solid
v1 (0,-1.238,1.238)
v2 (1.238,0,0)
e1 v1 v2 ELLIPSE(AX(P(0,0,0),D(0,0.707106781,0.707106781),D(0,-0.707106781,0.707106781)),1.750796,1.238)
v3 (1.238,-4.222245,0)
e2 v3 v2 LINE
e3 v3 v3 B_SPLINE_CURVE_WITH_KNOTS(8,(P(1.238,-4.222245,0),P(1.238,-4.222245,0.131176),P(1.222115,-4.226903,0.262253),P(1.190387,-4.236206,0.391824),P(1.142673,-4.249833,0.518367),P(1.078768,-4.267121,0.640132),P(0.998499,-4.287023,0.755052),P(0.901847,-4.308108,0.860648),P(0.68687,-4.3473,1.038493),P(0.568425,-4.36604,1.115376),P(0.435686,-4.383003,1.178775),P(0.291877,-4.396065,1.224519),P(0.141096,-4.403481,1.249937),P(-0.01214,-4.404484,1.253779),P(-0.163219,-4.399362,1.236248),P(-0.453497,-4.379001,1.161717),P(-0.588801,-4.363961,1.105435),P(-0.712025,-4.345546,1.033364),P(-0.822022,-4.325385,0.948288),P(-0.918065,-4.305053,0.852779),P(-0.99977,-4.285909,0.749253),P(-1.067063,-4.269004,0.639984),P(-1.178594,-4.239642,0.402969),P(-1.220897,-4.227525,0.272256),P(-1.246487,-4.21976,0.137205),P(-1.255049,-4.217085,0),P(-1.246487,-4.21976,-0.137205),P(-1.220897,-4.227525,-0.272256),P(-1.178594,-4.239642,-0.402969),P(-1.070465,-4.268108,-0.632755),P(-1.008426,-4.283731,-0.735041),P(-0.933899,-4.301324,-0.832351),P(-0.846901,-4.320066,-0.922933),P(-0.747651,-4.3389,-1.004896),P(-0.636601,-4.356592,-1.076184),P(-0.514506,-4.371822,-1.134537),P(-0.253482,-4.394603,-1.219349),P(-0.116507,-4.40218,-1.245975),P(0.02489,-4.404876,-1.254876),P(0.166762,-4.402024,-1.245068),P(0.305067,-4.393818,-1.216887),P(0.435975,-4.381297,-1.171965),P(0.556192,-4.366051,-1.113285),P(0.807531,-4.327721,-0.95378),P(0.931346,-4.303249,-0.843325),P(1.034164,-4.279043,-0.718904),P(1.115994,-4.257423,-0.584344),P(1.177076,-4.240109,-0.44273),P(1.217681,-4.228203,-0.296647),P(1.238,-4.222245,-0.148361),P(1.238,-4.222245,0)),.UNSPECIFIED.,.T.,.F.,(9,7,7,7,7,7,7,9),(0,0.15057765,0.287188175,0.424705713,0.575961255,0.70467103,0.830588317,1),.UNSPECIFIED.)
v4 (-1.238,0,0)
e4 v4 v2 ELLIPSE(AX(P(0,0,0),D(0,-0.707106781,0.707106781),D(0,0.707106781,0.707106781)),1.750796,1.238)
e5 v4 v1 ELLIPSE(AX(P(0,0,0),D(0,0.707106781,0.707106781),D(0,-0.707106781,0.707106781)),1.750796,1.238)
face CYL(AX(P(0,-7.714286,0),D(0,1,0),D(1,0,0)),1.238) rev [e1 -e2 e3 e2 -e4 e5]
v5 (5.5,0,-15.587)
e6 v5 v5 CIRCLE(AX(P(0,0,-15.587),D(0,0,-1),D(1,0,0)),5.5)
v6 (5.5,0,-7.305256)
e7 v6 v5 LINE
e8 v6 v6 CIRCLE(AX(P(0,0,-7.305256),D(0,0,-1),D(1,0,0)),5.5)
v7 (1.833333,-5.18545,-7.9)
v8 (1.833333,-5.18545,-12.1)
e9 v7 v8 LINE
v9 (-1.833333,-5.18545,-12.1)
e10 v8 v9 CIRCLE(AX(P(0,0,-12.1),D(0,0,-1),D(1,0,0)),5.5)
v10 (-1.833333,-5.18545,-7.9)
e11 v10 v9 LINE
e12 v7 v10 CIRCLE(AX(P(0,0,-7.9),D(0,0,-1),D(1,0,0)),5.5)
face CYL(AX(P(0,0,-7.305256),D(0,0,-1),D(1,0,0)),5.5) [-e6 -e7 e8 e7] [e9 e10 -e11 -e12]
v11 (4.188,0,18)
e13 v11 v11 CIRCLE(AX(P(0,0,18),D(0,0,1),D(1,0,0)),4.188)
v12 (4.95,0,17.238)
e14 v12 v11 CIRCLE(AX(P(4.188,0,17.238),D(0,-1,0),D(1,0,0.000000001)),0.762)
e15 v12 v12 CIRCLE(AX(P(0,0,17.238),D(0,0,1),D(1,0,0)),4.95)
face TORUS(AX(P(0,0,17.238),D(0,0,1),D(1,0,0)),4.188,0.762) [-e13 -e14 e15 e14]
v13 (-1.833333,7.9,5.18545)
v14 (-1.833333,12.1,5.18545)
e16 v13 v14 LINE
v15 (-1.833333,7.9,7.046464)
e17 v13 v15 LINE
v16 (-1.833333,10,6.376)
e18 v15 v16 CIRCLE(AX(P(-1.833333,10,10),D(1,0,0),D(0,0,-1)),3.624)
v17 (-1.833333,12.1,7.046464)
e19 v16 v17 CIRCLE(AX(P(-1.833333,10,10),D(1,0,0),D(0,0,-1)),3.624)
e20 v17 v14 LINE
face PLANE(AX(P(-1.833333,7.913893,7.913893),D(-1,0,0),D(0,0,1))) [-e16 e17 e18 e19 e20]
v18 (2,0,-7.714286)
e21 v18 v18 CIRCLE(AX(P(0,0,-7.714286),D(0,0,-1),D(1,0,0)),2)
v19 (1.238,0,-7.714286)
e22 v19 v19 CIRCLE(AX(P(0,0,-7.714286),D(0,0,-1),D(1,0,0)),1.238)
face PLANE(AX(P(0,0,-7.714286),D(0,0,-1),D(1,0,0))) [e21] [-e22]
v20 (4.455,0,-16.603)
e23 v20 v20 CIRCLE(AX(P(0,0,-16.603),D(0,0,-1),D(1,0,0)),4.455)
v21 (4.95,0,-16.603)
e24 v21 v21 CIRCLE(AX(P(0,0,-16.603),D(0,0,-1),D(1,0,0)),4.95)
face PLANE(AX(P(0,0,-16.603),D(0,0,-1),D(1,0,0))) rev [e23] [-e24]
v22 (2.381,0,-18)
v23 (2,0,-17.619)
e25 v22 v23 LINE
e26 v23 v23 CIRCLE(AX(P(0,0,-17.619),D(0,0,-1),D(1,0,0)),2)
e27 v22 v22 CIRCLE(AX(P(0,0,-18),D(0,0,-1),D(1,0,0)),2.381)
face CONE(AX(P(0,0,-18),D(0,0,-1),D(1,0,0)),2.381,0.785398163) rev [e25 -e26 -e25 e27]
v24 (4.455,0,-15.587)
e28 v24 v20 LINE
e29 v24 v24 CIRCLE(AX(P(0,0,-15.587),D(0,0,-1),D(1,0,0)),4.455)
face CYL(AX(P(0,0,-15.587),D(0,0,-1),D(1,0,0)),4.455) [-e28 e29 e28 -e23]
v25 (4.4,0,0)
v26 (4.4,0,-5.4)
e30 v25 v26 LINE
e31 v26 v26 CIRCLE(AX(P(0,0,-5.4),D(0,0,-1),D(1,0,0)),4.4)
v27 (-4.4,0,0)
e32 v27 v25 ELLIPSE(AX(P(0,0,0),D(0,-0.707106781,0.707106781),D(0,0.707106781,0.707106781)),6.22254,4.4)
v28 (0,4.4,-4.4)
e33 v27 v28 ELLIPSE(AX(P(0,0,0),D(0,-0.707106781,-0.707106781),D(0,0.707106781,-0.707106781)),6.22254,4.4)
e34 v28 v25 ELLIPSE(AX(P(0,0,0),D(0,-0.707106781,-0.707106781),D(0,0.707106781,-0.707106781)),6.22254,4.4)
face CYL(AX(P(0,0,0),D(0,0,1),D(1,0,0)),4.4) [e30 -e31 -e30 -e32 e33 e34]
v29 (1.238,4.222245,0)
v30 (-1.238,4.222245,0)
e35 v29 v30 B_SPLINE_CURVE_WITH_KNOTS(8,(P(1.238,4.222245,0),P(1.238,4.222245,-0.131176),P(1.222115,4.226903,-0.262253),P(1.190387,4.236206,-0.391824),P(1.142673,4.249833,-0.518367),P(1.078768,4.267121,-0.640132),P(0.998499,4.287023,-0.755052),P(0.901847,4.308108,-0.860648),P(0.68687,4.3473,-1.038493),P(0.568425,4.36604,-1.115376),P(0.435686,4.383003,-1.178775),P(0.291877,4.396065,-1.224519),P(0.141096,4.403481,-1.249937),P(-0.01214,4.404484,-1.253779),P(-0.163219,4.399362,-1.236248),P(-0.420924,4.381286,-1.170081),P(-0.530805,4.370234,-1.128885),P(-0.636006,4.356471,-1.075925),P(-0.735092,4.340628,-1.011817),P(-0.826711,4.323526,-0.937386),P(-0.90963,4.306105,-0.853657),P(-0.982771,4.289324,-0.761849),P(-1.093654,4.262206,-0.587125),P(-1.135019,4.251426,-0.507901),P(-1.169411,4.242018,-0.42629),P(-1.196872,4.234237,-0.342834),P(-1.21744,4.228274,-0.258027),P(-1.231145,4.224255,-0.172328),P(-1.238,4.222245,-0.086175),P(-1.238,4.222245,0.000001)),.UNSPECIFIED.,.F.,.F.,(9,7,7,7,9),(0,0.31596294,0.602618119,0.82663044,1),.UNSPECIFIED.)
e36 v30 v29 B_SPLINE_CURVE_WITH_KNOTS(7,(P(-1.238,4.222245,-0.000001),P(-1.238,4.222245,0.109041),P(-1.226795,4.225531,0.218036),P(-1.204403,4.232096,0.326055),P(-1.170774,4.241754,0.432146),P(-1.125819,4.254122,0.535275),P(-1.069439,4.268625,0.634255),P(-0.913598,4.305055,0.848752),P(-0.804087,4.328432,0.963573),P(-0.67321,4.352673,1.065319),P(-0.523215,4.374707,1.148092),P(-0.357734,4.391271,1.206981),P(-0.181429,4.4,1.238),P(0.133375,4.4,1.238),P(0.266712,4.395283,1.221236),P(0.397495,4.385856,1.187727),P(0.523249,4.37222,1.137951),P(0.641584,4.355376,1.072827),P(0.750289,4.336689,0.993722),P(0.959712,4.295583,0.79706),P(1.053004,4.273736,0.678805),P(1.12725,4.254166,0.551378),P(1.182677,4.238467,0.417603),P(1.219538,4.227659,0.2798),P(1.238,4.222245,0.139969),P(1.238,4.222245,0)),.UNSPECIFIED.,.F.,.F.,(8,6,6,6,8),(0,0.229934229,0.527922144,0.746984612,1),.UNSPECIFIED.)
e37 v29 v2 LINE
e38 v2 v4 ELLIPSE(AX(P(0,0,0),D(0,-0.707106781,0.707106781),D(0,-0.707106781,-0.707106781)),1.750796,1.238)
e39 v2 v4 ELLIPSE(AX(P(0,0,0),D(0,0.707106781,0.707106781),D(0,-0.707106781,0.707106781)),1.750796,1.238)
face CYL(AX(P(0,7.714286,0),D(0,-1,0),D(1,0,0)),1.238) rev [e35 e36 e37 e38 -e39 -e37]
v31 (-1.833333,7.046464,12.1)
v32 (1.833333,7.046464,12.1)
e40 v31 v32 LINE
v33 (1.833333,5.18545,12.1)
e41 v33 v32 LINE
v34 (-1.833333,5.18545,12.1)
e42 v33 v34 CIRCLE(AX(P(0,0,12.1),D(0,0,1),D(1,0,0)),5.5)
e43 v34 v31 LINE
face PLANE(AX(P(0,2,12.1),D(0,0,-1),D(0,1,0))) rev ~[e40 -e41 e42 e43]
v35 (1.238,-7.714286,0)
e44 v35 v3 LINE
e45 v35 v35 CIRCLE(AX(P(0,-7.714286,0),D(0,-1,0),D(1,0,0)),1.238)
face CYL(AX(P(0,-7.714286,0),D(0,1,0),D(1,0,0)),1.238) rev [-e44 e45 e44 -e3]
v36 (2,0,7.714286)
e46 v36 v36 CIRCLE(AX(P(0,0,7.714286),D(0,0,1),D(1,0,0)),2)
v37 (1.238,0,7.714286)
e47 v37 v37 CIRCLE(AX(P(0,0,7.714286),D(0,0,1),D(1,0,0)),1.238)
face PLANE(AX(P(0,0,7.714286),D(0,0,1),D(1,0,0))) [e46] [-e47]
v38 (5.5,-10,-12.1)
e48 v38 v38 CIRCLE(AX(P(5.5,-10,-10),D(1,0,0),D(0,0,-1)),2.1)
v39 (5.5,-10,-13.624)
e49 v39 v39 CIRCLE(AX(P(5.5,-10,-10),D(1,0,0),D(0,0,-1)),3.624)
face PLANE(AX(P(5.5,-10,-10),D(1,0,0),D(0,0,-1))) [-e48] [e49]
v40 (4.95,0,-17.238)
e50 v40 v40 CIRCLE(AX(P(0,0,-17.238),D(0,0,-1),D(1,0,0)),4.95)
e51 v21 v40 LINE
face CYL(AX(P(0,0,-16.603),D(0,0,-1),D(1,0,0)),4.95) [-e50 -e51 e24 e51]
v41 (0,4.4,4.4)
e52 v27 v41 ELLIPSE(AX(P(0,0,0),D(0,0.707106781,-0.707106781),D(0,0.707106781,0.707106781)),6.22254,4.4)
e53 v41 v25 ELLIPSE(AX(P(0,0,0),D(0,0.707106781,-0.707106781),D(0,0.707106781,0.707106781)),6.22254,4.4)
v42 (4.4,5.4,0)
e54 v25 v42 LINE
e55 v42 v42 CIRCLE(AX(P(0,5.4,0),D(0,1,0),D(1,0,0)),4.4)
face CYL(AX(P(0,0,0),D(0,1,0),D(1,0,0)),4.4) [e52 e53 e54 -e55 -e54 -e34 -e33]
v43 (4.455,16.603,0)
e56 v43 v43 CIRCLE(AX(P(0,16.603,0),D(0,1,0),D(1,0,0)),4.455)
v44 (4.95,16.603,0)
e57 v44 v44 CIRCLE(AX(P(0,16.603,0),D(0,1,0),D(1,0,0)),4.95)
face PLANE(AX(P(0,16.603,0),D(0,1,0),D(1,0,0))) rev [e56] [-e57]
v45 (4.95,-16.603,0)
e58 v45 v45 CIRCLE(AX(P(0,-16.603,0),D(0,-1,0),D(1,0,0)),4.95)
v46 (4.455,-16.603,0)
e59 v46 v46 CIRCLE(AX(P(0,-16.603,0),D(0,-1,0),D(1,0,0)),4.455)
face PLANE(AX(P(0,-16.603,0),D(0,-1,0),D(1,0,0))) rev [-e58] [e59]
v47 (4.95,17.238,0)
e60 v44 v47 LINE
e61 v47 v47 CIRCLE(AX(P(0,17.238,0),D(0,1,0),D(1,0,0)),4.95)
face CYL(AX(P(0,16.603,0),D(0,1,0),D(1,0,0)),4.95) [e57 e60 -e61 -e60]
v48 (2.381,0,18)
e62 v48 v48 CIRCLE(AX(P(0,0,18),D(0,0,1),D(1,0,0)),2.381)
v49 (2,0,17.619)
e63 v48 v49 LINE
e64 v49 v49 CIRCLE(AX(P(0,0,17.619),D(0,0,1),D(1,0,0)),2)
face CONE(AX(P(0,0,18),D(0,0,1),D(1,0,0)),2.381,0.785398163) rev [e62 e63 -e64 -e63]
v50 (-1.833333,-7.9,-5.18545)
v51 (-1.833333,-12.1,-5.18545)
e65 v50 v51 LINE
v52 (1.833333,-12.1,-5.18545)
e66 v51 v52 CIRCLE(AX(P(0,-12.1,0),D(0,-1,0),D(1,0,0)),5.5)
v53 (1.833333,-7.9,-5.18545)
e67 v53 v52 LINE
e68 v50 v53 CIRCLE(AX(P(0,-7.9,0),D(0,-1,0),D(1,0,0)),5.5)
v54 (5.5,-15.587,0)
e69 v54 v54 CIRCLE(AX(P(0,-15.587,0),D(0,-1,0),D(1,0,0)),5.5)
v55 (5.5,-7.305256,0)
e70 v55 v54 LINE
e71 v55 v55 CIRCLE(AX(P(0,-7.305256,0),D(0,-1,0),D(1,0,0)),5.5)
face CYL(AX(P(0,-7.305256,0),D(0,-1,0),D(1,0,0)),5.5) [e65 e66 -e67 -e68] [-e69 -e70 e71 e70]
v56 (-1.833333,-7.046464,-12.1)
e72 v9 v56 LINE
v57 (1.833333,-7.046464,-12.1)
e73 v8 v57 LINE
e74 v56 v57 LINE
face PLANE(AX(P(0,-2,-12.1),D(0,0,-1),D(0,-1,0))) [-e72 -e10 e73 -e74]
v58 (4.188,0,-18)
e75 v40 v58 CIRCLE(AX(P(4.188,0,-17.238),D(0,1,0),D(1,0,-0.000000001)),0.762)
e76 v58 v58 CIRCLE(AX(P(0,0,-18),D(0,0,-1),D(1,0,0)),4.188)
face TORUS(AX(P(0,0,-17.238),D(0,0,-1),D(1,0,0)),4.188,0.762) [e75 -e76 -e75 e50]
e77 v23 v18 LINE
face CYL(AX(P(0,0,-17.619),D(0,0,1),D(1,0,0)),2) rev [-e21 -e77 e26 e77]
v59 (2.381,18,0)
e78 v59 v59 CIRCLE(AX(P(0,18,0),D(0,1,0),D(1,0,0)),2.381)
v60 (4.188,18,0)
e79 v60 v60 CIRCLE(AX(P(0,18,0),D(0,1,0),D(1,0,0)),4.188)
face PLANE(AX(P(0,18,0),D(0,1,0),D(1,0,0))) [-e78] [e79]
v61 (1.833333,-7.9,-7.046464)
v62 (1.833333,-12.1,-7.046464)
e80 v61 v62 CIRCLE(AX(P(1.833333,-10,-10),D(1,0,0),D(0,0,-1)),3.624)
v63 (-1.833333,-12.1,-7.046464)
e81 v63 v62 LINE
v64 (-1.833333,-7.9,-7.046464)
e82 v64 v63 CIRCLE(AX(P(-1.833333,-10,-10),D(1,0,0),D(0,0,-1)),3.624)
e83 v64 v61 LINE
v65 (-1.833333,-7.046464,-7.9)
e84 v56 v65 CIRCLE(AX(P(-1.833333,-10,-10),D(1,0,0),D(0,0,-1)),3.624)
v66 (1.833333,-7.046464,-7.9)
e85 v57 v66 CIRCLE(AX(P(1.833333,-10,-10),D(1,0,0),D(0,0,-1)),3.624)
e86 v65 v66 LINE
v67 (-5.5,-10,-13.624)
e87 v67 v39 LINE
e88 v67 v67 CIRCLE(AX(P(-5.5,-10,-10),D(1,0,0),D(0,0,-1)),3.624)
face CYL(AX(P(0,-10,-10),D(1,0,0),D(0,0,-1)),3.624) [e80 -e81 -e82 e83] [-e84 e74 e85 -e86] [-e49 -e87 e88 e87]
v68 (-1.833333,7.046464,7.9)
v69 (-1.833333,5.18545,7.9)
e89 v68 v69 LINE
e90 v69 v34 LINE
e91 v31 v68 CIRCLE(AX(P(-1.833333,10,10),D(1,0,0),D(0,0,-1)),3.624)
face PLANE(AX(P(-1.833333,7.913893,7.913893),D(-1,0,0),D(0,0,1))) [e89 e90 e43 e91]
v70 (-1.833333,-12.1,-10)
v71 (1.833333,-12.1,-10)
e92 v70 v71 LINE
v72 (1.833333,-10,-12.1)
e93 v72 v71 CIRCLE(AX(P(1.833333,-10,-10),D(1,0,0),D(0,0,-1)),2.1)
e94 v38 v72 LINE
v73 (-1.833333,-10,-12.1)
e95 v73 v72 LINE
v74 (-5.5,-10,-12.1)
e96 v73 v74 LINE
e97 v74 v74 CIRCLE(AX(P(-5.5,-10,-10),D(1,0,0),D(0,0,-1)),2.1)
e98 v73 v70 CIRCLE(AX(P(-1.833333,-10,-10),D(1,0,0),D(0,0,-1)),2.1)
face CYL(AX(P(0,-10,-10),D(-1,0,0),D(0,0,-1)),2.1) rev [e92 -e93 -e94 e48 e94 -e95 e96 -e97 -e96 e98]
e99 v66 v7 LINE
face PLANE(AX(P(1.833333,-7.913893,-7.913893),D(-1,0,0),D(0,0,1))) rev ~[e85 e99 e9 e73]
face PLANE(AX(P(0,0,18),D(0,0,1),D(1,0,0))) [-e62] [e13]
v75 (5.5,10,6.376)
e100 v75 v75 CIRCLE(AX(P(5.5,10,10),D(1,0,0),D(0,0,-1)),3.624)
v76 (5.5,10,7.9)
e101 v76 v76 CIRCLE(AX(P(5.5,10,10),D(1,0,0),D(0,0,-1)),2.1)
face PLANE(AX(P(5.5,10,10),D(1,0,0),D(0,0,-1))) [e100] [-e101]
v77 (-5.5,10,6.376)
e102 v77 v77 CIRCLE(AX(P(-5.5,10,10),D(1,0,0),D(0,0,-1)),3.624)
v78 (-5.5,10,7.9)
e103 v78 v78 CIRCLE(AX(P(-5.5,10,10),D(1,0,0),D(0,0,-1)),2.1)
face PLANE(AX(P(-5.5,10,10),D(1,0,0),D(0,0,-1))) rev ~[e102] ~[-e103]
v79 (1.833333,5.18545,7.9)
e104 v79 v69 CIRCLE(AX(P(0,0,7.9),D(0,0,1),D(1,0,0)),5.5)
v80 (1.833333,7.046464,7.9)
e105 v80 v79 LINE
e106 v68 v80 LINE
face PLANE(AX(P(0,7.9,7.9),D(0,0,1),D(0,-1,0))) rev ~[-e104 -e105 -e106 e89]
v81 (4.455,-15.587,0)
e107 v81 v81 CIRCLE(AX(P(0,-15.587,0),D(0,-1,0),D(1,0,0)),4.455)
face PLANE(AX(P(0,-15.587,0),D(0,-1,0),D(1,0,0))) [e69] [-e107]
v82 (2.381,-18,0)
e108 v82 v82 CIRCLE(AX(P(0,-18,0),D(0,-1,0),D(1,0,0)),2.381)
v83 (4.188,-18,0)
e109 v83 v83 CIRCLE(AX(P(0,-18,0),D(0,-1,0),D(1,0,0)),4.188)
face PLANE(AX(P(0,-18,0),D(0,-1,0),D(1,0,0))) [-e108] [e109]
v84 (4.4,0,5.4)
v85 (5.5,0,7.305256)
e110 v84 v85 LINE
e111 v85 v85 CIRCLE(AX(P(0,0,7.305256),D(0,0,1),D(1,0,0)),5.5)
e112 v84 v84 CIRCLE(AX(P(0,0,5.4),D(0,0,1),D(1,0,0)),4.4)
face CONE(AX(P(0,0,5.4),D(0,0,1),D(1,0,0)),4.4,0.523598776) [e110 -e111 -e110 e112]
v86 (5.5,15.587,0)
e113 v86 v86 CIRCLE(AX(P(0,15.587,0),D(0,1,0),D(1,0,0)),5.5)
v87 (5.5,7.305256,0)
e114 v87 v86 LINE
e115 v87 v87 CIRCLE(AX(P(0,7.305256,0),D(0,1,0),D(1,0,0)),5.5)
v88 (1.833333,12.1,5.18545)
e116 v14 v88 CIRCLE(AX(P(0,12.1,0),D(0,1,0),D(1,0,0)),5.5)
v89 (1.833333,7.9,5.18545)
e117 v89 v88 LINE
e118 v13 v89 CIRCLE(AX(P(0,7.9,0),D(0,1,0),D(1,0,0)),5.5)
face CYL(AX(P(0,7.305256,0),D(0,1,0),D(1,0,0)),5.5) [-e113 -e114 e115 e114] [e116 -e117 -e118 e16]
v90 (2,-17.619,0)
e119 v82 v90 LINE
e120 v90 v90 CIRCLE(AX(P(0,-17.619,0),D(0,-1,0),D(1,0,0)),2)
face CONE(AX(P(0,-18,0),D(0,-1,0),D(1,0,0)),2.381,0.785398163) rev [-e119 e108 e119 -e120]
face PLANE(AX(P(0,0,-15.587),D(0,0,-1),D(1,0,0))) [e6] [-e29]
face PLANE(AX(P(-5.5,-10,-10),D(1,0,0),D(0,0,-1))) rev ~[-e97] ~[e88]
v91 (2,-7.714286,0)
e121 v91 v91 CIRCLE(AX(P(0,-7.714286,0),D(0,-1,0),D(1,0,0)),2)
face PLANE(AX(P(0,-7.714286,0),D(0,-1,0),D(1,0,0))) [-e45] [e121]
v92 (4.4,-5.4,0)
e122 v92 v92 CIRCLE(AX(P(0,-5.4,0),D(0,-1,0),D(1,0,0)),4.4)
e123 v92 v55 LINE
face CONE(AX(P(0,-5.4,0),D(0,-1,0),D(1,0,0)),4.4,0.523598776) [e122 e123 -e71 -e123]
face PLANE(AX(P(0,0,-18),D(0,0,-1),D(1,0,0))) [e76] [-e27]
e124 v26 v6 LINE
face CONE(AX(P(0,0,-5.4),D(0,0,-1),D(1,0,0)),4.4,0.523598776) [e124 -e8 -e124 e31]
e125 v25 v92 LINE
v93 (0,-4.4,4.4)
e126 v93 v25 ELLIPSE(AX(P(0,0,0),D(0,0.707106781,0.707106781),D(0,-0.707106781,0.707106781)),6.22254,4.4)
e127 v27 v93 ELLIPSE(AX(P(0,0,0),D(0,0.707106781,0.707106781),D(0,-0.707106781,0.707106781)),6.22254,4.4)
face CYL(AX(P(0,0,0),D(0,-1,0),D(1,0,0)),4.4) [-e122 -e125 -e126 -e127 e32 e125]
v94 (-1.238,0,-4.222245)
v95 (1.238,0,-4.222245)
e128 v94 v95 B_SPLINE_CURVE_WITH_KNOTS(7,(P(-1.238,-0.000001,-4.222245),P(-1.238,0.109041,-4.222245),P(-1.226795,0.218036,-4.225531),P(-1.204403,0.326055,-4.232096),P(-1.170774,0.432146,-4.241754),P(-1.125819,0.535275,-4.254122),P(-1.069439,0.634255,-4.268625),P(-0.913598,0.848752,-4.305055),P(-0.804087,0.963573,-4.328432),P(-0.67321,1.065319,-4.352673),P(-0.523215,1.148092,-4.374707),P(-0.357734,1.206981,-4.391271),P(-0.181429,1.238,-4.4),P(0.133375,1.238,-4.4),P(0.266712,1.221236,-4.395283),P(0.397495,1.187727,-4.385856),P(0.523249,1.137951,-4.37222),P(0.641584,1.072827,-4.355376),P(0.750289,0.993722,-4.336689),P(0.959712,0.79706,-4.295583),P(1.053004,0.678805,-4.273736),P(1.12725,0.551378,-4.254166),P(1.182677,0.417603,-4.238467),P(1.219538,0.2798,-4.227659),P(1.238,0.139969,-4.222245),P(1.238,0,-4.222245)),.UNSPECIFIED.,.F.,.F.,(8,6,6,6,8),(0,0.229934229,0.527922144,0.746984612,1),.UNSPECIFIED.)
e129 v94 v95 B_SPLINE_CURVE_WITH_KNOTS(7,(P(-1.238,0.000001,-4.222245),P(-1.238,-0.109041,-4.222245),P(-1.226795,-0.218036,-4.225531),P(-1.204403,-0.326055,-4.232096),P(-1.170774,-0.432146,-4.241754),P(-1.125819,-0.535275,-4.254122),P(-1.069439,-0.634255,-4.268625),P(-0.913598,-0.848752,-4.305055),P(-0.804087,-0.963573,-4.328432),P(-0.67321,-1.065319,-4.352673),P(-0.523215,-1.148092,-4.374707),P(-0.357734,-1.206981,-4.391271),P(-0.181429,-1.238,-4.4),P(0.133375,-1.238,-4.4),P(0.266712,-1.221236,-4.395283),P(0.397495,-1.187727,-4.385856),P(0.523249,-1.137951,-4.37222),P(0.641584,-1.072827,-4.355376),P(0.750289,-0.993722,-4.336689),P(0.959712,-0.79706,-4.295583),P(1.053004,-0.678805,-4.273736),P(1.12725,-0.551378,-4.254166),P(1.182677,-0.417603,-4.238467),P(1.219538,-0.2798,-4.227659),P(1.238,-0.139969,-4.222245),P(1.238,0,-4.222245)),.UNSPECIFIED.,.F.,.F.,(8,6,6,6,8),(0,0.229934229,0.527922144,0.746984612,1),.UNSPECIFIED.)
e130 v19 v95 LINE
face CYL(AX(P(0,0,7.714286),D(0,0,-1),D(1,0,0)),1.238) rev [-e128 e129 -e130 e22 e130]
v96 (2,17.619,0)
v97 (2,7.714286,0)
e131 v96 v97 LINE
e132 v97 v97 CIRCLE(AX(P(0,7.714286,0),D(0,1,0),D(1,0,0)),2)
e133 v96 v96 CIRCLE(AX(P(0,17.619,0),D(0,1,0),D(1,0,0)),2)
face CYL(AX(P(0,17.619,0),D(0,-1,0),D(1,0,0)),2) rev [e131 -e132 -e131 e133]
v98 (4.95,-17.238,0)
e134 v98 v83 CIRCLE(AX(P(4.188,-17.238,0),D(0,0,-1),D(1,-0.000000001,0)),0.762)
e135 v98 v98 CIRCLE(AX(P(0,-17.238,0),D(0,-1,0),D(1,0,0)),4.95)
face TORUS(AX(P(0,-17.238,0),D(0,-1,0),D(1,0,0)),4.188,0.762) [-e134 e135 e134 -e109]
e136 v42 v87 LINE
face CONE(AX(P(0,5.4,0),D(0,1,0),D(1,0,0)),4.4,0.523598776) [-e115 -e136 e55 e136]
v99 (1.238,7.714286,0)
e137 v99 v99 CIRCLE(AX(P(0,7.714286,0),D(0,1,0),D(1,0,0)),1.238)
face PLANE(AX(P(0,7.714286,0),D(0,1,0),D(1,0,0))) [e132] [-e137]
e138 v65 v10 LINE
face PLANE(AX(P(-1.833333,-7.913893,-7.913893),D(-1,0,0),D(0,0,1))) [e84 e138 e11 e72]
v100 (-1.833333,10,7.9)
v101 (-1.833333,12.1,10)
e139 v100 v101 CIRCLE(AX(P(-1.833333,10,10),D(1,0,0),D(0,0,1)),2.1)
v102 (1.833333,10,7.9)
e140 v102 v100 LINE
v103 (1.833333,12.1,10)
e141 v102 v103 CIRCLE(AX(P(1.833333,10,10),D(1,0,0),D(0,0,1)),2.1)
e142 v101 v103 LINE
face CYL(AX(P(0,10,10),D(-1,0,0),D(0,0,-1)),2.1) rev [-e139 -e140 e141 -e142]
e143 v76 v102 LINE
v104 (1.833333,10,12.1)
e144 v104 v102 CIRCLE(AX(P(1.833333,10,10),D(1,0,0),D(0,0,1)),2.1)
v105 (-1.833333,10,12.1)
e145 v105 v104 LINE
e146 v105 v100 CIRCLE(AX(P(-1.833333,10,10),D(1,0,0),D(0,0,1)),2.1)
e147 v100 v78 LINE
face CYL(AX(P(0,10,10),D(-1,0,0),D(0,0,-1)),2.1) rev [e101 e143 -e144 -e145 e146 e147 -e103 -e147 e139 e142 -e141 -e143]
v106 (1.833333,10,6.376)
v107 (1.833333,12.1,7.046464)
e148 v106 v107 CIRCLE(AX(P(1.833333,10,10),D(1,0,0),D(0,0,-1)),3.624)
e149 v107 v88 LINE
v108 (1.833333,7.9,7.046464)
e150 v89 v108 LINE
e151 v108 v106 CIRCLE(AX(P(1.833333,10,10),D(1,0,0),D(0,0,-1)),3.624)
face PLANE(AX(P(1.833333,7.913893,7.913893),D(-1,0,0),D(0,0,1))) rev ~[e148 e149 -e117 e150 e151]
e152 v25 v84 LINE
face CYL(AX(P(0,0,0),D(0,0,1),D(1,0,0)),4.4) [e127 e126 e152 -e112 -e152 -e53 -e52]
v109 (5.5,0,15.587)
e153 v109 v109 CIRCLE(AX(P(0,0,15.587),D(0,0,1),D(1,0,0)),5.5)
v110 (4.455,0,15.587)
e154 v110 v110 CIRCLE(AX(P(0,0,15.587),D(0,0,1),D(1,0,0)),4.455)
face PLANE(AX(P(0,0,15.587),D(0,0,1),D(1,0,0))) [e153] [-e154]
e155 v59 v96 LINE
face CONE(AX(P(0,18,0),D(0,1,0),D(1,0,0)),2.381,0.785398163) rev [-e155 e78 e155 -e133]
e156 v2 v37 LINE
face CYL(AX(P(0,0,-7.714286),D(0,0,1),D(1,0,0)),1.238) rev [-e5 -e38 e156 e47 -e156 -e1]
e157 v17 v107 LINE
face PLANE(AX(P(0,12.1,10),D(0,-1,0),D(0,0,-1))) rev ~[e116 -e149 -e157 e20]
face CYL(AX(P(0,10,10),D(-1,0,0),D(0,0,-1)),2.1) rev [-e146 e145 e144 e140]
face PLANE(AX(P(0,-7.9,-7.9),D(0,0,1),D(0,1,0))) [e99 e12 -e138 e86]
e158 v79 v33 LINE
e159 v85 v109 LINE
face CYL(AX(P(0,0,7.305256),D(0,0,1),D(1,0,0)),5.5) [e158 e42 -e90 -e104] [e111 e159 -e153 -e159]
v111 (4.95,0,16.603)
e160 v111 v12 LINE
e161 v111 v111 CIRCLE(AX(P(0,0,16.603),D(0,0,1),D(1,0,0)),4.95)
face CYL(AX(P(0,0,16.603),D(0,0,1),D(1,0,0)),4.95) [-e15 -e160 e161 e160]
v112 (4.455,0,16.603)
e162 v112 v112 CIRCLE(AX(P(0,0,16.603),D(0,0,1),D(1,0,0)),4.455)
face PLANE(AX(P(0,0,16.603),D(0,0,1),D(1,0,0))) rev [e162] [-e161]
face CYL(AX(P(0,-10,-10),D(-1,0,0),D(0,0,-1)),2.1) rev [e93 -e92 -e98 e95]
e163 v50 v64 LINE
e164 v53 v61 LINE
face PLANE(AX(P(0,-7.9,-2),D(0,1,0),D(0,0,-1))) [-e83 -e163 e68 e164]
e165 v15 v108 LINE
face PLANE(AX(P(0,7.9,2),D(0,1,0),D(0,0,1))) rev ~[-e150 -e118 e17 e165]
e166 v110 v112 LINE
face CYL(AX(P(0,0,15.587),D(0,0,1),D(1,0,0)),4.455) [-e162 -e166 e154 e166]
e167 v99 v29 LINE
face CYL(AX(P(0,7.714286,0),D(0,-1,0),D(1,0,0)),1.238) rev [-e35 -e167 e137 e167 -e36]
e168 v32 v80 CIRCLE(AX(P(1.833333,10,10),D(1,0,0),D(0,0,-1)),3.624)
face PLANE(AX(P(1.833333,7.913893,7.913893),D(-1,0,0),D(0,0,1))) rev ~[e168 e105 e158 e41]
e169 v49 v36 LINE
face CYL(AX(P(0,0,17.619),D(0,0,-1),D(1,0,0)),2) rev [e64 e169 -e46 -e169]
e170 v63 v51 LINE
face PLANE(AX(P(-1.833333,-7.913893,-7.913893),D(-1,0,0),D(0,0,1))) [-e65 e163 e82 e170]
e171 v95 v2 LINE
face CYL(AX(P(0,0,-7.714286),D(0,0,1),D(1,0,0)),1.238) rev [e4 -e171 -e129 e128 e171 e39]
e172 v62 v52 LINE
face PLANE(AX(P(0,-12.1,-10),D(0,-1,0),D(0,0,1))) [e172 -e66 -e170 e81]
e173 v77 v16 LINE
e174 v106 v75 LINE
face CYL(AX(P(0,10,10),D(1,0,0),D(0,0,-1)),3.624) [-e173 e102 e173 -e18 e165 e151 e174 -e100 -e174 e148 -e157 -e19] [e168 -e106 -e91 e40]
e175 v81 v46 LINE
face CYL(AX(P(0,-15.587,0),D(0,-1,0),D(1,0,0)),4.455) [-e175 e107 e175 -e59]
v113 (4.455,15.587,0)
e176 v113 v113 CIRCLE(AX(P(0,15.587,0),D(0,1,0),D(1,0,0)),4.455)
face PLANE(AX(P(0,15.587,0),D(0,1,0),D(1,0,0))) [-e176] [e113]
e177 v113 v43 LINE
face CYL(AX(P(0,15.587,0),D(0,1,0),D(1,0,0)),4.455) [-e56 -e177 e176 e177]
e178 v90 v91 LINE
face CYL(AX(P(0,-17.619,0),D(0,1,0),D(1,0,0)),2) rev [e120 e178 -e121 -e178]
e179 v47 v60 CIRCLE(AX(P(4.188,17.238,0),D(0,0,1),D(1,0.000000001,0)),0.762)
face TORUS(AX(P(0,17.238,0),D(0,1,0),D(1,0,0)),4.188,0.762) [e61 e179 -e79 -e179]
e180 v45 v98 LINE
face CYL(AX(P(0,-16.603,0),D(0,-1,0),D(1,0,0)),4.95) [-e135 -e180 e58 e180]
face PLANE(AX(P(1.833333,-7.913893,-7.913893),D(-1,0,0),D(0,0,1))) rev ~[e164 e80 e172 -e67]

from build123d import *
from build123d.topology import SkipClean

# Parameters (mm, degrees)
CIRPATTERN1_COUNT     = 4
CIRPATTERN2_COUNT     = 4
SKETCH4_R             = 3.624
SKETCH4_R_2           = 2.1
BOSS_EXTRUDE1_DEPTH   = 5.5
BOSS_EXTRUDE1_2_DEPTH = 5.5
BOSS_EXTRUDE2_DEPTH   = 1.833333333


with BuildPart() as part:
    # Sketch1 → Revolve1 (revolve)
    with BuildSketch(Plane(origin=(0, 0, 0), x_dir=(0, 0, -1), z_dir=(1, 0, 0))):
        with BuildLine():
            Line((16.603, 4.95), (17.238, 4.95))
            ThreePointArc((17.238, 4.95), (17.776815367, 4.726815367), (18, 4.188))
            Line((18, 4.188), (18, 2.381))
            Line((18, 2.381), (17.619, 2))
            Line((17.619, 2), (7.714285714, 2))
            Line((7.714285714, 2), (7.714285714, 1.238))
            Line((7.714285714, 1.238), (0, 1.238))
            Line((0, 1.238), (0, 4.4))
            Line((0, 4.4), (5.4, 4.4))
            Line((5.4, 4.4), (7.305255888, 5.5))
            Line((7.305255888, 5.5), (15.587, 5.5))
            Line((15.587, 5.5), (15.587, 4.455))
            Line((15.587, 4.455), (16.603, 4.455))
            Line((16.603, 4.455), (16.603, 4.95))
        make_face()
    revolve(axis=Axis((0, 0, 0), (0, 0, -1)))


with BuildPart() as cirpattern1_1:
    # CirPattern1: pattern copy
    add(part.part.rotate(Axis((-6.05, 0, 0), (1, 0, 0)), 1 * 360 / CIRPATTERN1_COUNT))


with BuildPart() as cirpattern1_2:
    # CirPattern1: pattern copy
    add(part.part.rotate(Axis((-6.05, 0, 0), (1, 0, 0)), 2 * 360 / CIRPATTERN1_COUNT))


with BuildPart() as cirpattern1_3:
    # CirPattern1: pattern copy
    add(part.part.rotate(Axis((-6.05, 0, 0), (1, 0, 0)), 3 * 360 / CIRPATTERN1_COUNT))


with BuildPart() as part_1:
    add(part.part)

    # Combine1: union CirPattern1_1, CirPattern1_2, CirPattern1_3
    add(cirpattern1_1.part)
    add(cirpattern1_2.part)
    add(cirpattern1_3.part)

    # Sketch3 → Cut-Revolve1 (revolve, cut)
    with BuildSketch(Plane(origin=(0, 0, 0), x_dir=(0, 0, -1), z_dir=(1, 0, 0))):
        Polygon((18, 2.381), (17.619, 2), (7.714285714, 2), (7.714285714, 1.238), (0, 1.238), (0, 0), (18, 0), align=None)
    cut_revolve1 = revolve(axis=Axis((0, 0, 0), (0, 0, -1)), mode=Mode.SUBTRACT)

    # CirPattern2: Cut-Revolve1 ×4 about axis
    cirpattern2_axis = Axis((-6.05, 0, 0), (1, 0, 0))
    for i in range(1, CIRPATTERN2_COUNT):
        add(cut_revolve1.rotate(cirpattern2_axis, i * 360 / CIRPATTERN2_COUNT), mode=Mode.SUBTRACT)



with BuildPart() as body_2:
    # Sketch4 → Boss-Extrude1 (new, symmetric)
    with BuildSketch(Plane(origin=(0, 0, 0), x_dir=(0, 0, -1), z_dir=(1, 0, 0))):
        with Locations((-10, 10)):
            Circle(SKETCH4_R)
        with Locations((-10, 10)):
            Circle(SKETCH4_R_2, mode=Mode.SUBTRACT)
    extrude(amount=BOSS_EXTRUDE1_DEPTH, both=True)


with BuildPart() as body_3:
    # Sketch4 → Boss-Extrude1 2 (new, symmetric)
    with BuildSketch(Plane(origin=(0, 0, 0), x_dir=(0, 0, -1), z_dir=(1, 0, 0))):
        with Locations((10, -10)):
            Circle(SKETCH4_R)
        with Locations((10, -10)):
            Circle(SKETCH4_R_2, mode=Mode.SUBTRACT)
    extrude(amount=BOSS_EXTRUDE1_2_DEPTH, both=True)


with BuildPart() as part_2:
    with SkipClean():  # the faces are left unmerged after this step: merging them gives an invalid solid
        add(part_1.part)

        add(body_2.part)  # Boss-Extrude2 merges body 2

        add(body_3.part)  # Boss-Extrude2 merges body 3
        # Sketch5 → Boss-Extrude2 (add, symmetric)
        with BuildSketch(Plane(origin=(0, 0, 0), x_dir=(0, 0, -1), z_dir=(1, 0, 0))):
            with BuildLine():
                Line((10, -12.1), (2, -12.1))
                Line((2, -12.1), (2, -7.9))
                Line((2, -7.9), (7.9, -7.9))
                Line((7.9, -7.9), (7.9, -2))
                Line((7.9, -2), (12.1, -2))
                Line((12.1, -2), (12.1, -10))
                ThreePointArc((12.1, -10), (8.51507576, -8.51507576), (10, -12.1))
            make_face()
            with BuildLine():
                Line((-10, 12.1), (-2, 12.1))
                Line((-2, 12.1), (-2, 7.9))
                Line((-2, 7.9), (-7.9, 7.9))
                Line((-7.9, 7.9), (-7.9, 2))
                Line((-7.9, 2), (-12.1, 2))
                Line((-12.1, 2), (-12.1, 10))
                ThreePointArc((-12.1, 10), (-8.51507576, 8.51507576), (-10, 12.1))
            make_face()
        extrude(amount=BOSS_EXTRUDE2_DEPTH, both=True)


solid = part_2.part
